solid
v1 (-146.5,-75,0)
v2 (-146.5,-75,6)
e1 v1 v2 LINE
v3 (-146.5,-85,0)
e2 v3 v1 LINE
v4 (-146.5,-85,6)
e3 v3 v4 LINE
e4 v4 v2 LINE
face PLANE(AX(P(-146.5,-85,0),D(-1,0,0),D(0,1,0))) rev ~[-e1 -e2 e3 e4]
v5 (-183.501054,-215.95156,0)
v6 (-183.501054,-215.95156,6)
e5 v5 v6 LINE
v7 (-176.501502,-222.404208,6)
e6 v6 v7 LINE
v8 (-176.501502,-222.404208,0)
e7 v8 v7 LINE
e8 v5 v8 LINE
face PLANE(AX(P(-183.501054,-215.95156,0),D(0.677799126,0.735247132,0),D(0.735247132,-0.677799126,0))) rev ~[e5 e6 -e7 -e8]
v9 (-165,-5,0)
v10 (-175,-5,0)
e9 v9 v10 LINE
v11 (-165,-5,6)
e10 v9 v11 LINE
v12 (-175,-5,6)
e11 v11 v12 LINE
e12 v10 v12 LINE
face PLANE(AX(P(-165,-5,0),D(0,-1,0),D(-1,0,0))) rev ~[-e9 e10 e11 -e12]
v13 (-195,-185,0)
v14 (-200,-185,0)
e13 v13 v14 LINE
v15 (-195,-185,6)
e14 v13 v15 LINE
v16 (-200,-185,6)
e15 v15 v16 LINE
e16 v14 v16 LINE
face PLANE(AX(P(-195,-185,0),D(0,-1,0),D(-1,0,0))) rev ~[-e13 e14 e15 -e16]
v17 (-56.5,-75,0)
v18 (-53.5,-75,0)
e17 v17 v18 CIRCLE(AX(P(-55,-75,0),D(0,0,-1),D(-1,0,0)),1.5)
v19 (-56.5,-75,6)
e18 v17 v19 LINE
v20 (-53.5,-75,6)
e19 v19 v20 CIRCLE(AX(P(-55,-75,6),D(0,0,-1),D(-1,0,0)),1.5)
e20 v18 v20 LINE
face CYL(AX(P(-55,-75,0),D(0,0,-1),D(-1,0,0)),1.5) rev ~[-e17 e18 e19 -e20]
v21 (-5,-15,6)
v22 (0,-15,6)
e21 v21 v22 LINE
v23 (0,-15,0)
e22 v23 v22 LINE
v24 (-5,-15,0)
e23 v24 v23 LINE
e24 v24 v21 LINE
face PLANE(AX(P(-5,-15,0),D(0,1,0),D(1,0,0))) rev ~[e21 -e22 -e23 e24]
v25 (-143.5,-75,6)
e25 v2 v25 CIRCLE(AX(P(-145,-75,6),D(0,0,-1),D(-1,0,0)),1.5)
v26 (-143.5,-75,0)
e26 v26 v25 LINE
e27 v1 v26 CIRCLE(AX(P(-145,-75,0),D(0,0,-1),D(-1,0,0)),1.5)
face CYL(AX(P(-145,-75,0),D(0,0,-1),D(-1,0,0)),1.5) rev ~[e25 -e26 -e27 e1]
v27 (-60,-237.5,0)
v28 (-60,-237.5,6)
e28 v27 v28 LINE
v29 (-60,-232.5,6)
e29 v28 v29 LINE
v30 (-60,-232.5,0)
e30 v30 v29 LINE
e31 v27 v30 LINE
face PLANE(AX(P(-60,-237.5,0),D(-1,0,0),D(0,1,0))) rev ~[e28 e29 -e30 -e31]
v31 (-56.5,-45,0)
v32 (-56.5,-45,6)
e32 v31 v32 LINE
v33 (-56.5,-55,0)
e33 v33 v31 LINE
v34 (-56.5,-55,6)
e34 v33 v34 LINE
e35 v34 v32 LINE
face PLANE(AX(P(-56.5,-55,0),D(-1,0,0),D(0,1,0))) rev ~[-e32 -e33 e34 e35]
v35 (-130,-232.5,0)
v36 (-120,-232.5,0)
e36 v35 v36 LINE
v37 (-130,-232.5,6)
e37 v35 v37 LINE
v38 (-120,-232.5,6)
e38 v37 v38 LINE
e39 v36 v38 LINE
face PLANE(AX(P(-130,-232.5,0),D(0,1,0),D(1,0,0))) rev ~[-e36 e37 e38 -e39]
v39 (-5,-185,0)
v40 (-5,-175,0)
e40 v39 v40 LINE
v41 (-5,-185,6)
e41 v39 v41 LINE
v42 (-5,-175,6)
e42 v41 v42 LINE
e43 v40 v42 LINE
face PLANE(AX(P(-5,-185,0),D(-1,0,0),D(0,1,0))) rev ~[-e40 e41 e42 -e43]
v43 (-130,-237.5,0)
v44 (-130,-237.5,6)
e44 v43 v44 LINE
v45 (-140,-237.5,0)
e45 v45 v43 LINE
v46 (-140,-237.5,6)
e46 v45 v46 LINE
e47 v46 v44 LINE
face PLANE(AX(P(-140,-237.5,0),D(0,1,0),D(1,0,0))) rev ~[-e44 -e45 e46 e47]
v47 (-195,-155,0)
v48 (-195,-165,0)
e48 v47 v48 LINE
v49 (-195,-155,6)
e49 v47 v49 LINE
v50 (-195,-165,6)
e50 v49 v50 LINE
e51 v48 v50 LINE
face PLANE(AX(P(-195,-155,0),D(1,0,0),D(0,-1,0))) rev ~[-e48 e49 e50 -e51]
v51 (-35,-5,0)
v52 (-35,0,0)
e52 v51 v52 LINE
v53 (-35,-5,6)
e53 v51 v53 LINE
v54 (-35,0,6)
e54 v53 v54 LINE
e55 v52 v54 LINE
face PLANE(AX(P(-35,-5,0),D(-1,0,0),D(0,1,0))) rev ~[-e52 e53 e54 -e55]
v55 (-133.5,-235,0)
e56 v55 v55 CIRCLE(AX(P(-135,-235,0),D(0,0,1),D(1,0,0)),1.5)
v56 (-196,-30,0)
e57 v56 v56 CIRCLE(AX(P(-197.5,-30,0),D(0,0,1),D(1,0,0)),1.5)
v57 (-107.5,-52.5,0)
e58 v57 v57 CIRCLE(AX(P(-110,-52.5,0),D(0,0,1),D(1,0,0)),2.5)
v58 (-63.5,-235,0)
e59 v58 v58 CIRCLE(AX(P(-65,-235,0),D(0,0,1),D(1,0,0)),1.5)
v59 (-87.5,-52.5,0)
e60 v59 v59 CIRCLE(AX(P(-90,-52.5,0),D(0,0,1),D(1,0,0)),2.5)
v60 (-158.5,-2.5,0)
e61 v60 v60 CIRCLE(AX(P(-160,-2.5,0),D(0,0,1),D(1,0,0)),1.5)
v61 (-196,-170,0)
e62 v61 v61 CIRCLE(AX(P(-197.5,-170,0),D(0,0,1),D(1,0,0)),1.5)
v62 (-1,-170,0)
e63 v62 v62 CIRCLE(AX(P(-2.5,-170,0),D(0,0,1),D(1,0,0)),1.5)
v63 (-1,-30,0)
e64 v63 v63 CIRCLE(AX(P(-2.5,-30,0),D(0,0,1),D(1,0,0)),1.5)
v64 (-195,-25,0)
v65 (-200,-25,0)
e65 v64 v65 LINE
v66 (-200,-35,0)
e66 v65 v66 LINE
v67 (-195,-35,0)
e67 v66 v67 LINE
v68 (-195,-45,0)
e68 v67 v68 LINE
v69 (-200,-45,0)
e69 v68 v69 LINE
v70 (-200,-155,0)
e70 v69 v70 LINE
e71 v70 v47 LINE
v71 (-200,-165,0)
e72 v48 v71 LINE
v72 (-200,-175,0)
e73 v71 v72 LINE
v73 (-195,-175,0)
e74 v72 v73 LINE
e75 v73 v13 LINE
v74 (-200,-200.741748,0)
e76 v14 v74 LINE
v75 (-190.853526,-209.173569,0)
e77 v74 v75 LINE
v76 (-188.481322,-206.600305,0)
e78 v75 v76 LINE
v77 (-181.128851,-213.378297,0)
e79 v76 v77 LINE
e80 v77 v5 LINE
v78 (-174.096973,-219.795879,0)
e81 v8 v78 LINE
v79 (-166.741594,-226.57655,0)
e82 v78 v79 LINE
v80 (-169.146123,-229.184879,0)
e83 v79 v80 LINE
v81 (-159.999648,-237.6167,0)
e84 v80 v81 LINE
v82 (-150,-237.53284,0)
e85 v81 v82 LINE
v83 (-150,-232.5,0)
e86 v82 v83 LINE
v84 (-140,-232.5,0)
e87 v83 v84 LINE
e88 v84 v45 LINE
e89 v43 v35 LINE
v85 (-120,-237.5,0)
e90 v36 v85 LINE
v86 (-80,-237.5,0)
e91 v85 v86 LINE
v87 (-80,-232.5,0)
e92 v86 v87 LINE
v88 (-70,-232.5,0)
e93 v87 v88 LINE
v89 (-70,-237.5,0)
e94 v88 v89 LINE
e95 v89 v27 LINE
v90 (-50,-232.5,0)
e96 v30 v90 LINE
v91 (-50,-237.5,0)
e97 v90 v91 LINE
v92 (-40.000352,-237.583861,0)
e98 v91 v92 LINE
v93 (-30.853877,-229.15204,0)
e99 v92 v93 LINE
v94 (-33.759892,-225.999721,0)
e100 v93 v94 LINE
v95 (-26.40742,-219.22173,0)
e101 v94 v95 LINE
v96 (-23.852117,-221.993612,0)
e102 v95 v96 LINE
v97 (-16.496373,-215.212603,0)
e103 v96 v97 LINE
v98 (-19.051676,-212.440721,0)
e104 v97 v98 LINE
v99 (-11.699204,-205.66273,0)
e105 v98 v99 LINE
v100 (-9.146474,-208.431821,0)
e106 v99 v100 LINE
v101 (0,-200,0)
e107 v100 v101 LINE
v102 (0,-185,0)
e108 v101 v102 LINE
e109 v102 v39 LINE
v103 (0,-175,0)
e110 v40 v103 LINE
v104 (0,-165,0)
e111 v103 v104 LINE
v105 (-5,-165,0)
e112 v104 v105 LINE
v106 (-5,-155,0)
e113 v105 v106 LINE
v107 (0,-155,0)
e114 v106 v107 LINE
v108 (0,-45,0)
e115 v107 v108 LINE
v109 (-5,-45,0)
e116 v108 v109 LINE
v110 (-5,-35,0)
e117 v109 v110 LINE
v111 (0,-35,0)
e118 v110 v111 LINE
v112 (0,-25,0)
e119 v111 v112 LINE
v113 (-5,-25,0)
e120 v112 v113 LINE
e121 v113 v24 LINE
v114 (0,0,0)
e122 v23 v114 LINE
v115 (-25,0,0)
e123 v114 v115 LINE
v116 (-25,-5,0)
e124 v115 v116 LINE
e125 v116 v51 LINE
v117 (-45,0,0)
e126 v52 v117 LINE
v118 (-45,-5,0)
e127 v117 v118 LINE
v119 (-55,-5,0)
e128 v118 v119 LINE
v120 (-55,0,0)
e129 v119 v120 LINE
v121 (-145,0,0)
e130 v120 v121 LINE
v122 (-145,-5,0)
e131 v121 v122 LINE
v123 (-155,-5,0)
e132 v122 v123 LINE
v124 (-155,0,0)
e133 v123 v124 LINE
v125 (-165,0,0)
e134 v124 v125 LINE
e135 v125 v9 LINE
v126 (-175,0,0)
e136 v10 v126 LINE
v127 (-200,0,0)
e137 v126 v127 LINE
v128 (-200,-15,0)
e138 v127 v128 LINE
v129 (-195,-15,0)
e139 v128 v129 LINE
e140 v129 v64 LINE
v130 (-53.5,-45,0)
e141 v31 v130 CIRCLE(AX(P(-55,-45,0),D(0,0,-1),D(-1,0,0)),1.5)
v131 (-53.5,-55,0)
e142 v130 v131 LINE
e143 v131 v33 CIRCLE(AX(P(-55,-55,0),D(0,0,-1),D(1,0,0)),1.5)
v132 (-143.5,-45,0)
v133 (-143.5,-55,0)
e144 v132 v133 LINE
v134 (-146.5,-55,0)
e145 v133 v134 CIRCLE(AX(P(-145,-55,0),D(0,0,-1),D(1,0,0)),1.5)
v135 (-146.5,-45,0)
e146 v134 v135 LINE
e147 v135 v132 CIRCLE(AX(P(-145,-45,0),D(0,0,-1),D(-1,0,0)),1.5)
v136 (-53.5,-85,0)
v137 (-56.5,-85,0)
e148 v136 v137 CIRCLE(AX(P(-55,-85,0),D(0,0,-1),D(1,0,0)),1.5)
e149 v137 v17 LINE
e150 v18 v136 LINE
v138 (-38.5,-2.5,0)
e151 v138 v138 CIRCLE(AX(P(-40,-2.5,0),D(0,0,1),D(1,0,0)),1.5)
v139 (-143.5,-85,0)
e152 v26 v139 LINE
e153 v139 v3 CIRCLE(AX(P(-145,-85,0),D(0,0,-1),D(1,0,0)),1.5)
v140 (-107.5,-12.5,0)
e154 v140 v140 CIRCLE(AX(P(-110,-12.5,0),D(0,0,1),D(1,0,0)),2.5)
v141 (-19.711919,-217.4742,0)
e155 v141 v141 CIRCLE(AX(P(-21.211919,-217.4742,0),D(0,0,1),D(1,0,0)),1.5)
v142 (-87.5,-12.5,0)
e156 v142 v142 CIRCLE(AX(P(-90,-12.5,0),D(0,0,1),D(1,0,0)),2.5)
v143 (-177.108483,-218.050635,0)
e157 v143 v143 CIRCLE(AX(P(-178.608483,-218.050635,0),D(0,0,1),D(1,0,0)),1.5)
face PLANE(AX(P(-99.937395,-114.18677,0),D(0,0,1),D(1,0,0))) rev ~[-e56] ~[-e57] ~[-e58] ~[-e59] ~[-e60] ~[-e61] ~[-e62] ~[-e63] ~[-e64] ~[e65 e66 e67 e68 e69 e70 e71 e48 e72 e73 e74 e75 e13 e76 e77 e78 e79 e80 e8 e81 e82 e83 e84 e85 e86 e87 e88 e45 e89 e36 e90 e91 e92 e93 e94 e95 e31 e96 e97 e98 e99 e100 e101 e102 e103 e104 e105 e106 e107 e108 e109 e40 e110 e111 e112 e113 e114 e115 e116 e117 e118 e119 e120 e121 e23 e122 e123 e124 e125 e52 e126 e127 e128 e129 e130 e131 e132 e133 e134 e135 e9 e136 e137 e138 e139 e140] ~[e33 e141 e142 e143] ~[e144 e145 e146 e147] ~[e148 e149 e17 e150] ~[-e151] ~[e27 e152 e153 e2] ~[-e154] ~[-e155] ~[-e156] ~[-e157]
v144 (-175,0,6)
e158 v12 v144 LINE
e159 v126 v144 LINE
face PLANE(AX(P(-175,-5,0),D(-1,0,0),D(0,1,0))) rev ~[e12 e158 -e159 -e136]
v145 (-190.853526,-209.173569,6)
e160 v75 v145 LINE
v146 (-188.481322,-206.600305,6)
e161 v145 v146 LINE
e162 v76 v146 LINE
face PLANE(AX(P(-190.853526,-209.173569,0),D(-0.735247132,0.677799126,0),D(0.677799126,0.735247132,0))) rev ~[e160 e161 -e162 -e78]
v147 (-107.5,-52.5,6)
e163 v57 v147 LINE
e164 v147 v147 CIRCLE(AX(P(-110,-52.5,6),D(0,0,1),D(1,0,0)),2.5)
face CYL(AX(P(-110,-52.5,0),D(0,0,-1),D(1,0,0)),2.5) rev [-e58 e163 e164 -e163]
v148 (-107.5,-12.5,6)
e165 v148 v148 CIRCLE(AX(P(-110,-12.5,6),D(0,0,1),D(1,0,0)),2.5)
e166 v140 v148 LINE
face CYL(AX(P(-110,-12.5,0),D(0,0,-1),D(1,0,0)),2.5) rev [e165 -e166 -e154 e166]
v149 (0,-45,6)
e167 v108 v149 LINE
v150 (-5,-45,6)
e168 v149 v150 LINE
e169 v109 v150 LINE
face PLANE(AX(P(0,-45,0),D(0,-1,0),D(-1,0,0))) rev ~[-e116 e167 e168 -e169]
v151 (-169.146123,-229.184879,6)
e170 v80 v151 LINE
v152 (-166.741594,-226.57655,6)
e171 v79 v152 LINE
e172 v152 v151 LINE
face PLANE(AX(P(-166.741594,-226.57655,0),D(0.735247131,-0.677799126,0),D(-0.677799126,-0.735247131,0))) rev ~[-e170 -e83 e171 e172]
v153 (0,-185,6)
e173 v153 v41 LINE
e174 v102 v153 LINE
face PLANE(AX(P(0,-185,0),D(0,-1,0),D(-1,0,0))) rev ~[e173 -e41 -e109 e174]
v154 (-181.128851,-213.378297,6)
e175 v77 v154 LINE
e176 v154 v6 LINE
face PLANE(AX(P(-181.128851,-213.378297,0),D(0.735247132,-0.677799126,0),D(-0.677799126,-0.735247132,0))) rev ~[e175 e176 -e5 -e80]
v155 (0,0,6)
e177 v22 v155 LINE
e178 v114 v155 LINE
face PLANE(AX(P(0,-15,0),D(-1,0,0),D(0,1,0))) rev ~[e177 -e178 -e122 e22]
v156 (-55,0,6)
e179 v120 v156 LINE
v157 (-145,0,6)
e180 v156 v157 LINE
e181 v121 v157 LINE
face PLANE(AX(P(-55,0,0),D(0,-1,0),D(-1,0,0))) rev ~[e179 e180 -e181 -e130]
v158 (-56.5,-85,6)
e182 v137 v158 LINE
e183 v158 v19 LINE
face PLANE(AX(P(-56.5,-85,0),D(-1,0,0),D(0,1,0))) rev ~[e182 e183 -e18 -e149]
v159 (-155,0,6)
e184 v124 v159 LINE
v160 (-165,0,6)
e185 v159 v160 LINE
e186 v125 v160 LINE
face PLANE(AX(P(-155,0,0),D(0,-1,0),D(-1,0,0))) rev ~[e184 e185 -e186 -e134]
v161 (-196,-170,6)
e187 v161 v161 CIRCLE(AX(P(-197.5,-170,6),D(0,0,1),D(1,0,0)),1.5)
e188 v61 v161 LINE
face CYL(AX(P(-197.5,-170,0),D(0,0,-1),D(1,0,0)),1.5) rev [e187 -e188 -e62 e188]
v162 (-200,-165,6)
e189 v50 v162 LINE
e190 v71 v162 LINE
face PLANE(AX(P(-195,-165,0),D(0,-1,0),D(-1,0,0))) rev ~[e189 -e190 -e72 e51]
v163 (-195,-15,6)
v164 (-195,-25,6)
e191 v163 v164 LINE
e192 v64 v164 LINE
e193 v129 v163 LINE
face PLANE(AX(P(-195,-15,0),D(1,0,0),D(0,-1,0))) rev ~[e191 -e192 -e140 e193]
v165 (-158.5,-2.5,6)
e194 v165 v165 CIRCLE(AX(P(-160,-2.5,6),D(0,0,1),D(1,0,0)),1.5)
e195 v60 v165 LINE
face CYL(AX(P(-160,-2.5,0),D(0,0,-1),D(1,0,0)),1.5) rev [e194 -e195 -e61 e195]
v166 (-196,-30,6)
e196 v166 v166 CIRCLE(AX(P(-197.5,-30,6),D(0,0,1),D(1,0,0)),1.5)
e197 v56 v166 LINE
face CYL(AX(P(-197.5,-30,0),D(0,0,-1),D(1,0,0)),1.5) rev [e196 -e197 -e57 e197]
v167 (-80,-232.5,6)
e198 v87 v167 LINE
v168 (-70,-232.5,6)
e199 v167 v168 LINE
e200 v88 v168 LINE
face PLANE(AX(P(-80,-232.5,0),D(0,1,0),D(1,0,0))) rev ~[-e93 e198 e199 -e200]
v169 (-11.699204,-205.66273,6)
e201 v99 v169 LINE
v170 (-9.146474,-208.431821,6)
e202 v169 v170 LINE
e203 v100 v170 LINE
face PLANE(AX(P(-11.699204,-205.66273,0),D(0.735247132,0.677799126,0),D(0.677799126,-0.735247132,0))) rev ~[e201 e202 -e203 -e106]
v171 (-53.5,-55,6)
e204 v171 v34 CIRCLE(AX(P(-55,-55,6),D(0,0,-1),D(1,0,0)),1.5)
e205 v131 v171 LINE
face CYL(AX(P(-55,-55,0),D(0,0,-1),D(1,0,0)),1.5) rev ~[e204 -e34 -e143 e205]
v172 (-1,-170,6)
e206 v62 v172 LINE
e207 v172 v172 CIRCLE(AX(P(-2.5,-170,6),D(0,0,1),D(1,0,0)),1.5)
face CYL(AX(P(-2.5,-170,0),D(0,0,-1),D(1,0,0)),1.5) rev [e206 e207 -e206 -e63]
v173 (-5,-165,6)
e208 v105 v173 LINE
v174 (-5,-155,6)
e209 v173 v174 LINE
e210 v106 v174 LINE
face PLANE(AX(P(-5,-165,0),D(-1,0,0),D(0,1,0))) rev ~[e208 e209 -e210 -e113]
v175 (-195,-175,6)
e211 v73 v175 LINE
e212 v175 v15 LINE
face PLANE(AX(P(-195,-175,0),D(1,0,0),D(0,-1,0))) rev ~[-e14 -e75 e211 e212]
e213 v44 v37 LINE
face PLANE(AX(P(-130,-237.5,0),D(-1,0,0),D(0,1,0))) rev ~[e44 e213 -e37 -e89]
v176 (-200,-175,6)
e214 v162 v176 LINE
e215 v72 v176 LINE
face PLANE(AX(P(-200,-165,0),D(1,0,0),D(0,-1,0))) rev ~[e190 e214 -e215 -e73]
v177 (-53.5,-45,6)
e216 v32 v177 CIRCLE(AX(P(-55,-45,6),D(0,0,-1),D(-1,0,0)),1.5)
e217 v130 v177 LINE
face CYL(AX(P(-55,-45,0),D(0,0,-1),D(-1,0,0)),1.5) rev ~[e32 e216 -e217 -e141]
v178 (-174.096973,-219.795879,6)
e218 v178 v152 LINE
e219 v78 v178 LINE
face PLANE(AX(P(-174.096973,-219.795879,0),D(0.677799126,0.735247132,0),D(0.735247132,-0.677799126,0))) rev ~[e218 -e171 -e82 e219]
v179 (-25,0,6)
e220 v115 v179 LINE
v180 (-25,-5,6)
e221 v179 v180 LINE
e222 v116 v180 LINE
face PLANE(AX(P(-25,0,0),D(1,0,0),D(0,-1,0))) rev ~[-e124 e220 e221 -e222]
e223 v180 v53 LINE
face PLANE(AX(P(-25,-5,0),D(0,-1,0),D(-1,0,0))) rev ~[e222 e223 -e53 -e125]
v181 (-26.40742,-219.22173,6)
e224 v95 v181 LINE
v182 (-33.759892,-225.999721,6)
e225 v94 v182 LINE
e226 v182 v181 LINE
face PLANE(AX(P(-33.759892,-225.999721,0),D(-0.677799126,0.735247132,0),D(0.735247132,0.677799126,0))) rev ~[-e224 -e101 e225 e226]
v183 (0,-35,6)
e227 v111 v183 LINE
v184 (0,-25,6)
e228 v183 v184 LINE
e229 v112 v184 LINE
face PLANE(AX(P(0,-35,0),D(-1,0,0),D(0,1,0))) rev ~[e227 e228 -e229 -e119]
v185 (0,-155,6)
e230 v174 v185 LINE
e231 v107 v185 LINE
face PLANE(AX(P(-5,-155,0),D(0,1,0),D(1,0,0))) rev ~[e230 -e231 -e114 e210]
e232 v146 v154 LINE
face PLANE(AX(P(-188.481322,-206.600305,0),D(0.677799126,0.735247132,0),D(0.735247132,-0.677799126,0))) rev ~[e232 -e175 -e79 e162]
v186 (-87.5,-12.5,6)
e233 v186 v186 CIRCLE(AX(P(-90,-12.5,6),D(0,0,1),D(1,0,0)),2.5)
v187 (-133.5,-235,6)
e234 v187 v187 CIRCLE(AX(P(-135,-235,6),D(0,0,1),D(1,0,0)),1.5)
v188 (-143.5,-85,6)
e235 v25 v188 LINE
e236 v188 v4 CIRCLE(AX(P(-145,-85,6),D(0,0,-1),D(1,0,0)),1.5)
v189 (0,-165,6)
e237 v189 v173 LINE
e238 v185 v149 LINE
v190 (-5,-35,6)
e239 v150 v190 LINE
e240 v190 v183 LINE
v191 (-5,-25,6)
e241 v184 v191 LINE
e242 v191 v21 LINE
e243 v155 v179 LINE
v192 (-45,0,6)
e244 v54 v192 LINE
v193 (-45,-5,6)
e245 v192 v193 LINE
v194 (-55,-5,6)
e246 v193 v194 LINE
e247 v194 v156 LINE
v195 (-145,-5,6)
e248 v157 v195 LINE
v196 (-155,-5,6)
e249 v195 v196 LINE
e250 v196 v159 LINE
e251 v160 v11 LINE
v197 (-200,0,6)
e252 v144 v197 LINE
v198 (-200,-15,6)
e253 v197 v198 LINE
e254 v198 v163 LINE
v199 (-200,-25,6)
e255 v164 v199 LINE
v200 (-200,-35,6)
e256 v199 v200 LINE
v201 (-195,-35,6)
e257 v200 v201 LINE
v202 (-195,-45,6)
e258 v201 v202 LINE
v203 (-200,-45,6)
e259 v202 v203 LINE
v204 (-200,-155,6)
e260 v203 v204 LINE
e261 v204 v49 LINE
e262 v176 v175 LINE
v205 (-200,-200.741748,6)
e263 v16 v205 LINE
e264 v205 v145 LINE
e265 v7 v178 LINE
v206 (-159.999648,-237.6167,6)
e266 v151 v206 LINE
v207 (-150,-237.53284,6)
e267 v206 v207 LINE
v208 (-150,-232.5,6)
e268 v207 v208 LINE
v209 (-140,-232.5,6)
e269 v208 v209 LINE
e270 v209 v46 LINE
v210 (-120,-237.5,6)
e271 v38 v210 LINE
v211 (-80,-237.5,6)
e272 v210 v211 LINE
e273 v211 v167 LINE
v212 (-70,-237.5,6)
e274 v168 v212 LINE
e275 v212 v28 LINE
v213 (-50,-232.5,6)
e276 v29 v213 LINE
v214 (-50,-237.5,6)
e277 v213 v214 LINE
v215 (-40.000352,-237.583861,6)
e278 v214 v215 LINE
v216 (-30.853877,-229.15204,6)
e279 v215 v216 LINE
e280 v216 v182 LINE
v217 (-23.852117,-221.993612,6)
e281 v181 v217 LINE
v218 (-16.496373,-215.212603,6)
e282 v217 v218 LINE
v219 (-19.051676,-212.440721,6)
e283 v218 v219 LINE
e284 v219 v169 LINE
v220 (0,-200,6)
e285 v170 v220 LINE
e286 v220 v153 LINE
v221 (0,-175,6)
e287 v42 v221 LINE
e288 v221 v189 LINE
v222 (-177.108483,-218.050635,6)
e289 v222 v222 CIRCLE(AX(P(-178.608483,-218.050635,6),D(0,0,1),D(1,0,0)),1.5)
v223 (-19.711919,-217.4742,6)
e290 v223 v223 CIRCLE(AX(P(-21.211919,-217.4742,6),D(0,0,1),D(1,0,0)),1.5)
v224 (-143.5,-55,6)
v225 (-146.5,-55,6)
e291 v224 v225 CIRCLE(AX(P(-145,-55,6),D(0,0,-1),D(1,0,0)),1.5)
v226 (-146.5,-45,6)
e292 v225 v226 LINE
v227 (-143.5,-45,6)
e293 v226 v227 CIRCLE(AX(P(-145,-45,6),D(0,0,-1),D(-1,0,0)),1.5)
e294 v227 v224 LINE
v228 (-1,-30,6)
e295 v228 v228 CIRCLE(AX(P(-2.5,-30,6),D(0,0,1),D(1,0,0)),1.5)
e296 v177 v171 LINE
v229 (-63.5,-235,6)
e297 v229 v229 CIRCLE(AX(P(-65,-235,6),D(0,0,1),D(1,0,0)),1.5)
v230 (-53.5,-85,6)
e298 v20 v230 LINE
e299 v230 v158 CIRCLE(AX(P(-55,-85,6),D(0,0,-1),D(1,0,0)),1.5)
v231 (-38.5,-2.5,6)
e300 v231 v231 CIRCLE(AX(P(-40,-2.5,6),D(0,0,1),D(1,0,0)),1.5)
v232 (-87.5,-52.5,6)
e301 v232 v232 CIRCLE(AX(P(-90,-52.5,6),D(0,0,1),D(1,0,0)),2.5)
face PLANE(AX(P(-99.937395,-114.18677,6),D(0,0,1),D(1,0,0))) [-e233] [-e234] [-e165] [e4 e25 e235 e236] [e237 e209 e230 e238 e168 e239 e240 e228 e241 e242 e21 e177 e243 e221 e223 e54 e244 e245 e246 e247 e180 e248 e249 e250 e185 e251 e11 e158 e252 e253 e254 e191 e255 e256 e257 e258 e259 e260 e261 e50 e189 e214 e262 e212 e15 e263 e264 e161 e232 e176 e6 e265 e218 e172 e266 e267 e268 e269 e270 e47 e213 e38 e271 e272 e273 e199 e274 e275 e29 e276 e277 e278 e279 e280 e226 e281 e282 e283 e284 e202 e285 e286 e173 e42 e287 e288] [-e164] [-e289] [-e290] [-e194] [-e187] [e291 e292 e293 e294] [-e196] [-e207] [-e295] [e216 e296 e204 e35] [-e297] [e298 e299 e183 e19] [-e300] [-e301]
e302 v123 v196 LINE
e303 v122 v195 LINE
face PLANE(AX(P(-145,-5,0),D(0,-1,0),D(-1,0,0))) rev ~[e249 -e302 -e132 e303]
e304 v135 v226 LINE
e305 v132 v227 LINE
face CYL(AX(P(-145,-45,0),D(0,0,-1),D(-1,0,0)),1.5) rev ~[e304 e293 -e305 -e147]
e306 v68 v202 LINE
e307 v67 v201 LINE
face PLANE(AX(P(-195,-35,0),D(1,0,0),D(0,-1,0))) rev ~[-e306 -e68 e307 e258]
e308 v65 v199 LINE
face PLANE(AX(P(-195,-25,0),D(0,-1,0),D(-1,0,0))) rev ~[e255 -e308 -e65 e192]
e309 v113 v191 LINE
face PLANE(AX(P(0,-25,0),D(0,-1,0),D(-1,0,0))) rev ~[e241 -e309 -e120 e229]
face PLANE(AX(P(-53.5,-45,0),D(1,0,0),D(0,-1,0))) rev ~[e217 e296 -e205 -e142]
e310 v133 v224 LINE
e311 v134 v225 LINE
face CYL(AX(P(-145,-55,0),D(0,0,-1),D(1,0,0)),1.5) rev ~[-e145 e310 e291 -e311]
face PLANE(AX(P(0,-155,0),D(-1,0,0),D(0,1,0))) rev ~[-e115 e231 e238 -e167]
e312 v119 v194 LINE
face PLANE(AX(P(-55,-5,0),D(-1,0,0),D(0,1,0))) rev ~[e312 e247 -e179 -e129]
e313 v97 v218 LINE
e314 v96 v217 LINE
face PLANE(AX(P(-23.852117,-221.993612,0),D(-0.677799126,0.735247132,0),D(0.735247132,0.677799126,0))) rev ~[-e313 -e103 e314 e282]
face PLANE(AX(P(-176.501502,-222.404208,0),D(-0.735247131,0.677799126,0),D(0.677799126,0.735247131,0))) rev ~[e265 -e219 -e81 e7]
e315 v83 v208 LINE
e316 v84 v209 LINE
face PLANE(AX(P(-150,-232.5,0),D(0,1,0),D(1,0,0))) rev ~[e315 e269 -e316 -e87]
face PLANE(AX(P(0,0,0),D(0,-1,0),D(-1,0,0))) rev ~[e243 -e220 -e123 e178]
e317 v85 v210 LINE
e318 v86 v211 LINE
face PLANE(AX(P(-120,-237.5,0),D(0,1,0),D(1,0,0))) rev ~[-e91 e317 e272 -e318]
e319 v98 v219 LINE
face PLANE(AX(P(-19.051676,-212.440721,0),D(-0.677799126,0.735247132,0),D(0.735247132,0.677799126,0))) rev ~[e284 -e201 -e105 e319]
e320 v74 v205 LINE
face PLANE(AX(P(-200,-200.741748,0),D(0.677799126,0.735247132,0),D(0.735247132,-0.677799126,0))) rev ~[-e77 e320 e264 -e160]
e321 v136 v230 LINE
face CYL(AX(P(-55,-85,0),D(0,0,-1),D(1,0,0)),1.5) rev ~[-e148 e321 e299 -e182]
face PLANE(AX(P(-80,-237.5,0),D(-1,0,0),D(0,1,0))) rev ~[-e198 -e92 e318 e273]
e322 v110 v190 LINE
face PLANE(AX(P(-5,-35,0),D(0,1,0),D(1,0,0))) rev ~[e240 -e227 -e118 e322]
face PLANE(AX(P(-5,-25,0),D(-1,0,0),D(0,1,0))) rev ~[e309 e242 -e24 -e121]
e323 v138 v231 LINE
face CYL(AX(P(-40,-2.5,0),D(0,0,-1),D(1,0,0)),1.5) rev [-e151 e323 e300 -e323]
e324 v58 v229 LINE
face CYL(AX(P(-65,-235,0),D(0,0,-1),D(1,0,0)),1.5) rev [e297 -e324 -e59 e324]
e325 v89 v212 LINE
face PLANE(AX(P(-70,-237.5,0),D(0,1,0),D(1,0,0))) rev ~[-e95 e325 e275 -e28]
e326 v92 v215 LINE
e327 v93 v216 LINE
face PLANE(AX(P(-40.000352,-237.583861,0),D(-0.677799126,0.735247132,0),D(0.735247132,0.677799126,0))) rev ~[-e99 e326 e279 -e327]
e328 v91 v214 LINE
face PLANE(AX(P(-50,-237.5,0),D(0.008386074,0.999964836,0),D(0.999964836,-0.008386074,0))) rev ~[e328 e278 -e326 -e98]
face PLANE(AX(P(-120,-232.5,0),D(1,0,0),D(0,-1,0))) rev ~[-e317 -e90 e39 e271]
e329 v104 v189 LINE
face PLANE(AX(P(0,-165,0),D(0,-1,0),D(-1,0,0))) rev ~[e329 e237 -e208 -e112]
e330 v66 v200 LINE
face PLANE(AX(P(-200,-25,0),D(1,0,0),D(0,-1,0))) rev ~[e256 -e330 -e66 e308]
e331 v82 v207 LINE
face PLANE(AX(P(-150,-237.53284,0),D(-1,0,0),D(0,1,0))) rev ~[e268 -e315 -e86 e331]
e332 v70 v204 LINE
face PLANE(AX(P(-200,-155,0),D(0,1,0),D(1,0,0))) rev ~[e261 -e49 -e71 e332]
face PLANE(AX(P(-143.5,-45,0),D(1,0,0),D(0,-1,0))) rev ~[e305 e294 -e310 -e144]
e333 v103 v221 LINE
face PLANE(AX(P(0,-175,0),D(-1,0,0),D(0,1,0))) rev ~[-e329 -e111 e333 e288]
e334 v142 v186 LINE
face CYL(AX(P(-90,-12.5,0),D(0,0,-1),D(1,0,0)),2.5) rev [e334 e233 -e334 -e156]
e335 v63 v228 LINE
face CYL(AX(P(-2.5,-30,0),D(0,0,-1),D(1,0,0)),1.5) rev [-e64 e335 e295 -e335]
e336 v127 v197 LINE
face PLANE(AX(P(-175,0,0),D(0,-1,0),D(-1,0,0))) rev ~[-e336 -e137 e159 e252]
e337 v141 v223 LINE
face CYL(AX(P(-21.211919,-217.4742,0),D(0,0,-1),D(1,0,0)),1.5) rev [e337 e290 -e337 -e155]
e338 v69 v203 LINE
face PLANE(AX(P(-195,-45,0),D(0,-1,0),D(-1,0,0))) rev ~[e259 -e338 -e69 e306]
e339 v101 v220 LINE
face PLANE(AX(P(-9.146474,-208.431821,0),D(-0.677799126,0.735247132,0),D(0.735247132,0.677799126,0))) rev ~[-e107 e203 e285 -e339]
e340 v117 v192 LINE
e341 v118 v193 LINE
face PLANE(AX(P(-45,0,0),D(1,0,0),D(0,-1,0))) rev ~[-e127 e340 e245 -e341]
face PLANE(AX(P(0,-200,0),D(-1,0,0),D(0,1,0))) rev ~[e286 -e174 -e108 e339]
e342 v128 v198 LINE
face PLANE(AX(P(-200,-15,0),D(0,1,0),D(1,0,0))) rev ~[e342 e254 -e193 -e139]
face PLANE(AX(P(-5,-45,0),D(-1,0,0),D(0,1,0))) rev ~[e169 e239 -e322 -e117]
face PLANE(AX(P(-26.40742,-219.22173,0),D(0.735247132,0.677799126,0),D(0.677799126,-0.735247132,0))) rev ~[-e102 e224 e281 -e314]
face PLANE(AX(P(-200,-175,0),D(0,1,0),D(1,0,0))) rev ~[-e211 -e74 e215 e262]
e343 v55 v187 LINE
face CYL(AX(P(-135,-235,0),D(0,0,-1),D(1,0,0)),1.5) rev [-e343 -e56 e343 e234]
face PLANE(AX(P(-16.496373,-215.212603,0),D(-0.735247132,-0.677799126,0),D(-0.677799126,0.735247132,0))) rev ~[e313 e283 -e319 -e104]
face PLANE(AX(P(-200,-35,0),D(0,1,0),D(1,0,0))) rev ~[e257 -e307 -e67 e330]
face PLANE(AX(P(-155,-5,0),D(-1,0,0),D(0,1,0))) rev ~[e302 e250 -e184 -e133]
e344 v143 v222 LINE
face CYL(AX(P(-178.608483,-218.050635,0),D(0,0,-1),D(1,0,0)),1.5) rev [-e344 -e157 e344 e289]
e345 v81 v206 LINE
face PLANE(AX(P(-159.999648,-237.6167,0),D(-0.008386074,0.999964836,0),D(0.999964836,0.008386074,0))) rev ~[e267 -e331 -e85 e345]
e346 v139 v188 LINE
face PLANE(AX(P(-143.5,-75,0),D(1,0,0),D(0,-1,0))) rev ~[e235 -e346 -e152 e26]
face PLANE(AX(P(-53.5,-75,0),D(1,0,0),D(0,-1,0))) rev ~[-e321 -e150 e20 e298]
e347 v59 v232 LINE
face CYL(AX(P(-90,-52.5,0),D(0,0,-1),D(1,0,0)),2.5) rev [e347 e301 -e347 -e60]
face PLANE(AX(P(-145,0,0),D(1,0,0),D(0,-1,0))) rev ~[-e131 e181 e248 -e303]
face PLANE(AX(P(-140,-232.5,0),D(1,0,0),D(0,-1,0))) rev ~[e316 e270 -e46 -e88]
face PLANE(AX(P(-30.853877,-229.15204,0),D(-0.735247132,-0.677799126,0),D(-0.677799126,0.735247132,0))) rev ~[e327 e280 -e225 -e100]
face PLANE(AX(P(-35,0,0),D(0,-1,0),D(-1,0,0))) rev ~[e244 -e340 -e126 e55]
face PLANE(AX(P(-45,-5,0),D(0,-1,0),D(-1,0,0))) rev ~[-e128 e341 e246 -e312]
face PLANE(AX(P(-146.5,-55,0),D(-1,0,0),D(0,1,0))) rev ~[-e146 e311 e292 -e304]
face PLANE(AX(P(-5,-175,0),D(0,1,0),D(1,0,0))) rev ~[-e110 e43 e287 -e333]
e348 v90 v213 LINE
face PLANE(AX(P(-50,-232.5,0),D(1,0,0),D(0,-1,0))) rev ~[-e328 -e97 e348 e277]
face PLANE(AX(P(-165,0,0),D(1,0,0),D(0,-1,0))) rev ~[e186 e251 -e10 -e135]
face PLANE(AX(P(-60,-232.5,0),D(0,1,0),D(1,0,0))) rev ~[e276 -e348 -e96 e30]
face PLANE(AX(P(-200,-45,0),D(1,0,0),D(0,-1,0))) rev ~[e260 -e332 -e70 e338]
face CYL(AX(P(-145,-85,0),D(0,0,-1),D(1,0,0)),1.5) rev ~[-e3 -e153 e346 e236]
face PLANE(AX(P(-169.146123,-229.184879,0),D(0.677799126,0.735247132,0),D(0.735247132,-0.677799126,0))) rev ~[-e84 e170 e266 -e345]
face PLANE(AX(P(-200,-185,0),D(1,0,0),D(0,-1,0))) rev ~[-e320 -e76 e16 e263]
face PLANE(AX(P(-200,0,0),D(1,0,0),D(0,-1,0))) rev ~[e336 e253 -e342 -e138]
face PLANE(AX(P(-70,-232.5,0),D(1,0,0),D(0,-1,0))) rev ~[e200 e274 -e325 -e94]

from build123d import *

# Parameters (mm, degrees)
MODEL_R                  = 1.5
MODEL_R_2                = 2.5
RESSALTO_EXTRUS_O1_DEPTH = 6


with BuildPart() as part:
    # Model → Ressalto-extrusão1 (new body)
    with BuildSketch(Plane.XY):
        Polygon((-5, -175), (0, -175), (0, -165), (-5, -165), (-5, -155), (0, -155), (0, -45), (-5, -45), (-5, -35), (0, -35), (0, -25), (-5, -25), (-5, -15), (0, -15), (0, 0), (-25, 0), (-25, -5), (-35, -5), (-35, 0), (-45, 0), (-45, -5), (-55, -5), (-55, 0), (-145, 0), (-145, -5), (-155, -5), (-155, 0), (-165, 0), (-165, -5), (-175, -5), (-175, 0), (-200, 0), (-200, -15), (-195, -15), (-195, -25), (-200, -25), (-200, -35), (-195, -35), (-195, -45), (-200, -45), (-200, -155), (-195, -155), (-195, -165), (-200, -165), (-200, -175), (-195, -175), (-195, -185), (-200, -185), (-200, -200.74174754), (-190.853525683, -209.17356867), (-188.481322389, -206.600305295), (-181.128851073, -213.378296557), (-183.501054367, -215.951559933), (-176.501501675, -222.404207614), (-174.096972592, -219.795878624), (-166.741593597, -226.576550376), (-169.14612268, -229.184879366), (-159.999648363, -237.616700496), (-150, -237.53283976), (-150, -232.5), (-140, -232.5), (-140, -237.5), (-130, -237.5), (-130, -232.5), (-120, -232.5), (-120, -237.5), (-80, -237.5), (-80, -232.5), (-70, -232.5), (-70, -237.5), (-60, -237.5), (-60, -232.5), (-50, -232.5), (-50, -237.5), (-40.000351637, -237.583860737), (-30.85387732, -229.152039608), (-33.759891511, -225.999721294), (-26.407420195, -219.221730032), (-23.852117489, -221.993611718), (-16.496373021, -215.21260305), (-19.051675727, -212.440721364), (-11.69920441, -205.662730102), (-9.146474317, -208.43182113), (0, -200), (0, -185), (-5, -185), align=None)
        with Locations((-2.5, -170)):
            Circle(MODEL_R, mode=Mode.SUBTRACT)
        with Locations((-2.5, -30)):
            Circle(MODEL_R, mode=Mode.SUBTRACT)
        with Locations((-40, -2.5)):
            Circle(MODEL_R, mode=Mode.SUBTRACT)
        with Locations((-160, -2.5)):
            Circle(MODEL_R, mode=Mode.SUBTRACT)
        with Locations((-197.5, -30)):
            Circle(MODEL_R, mode=Mode.SUBTRACT)
        with Locations((-197.5, -170)):
            Circle(MODEL_R, mode=Mode.SUBTRACT)
        with Locations((-65, -235)):
            Circle(MODEL_R, mode=Mode.SUBTRACT)
        with Locations((-135, -235)):
            Circle(MODEL_R, mode=Mode.SUBTRACT)
        with Locations((-90, -52.5)):
            Circle(MODEL_R_2, mode=Mode.SUBTRACT)
        with Locations((-110, -12.5)):
            Circle(MODEL_R_2, mode=Mode.SUBTRACT)
        with Locations((-90, -12.5)):
            Circle(MODEL_R_2, mode=Mode.SUBTRACT)
        with Locations((-110, -52.5)):
            Circle(MODEL_R_2, mode=Mode.SUBTRACT)
        with Locations((-178.608483127, -218.05063468)):
            Circle(MODEL_R, mode=Mode.SUBTRACT)
        with Locations((-21.21191866, -217.474200234)):
            Circle(MODEL_R, mode=Mode.SUBTRACT)
        with BuildLine():
            Line((-56.5, -55), (-56.5, -45))
            ThreePointArc((-56.5, -45), (-55, -43.5), (-53.5, -45))
            Line((-53.5, -45), (-53.5, -55))
            ThreePointArc((-53.5, -55), (-55, -56.5), (-56.5, -55))
        make_face(mode=Mode.SUBTRACT)
        with BuildLine():
            Line((-53.5, -75), (-53.5, -85))
            ThreePointArc((-53.5, -85), (-55, -86.5), (-56.5, -85))
            Line((-56.5, -85), (-56.5, -75))
            ThreePointArc((-56.5, -75), (-55, -73.5), (-53.5, -75))
        make_face(mode=Mode.SUBTRACT)
        with BuildLine():
            Line((-146.5, -85), (-146.5, -75))
            ThreePointArc((-146.5, -75), (-145, -73.5), (-143.5, -75))
            Line((-143.5, -75), (-143.5, -85))
            ThreePointArc((-143.5, -85), (-145, -86.5), (-146.5, -85))
        make_face(mode=Mode.SUBTRACT)
        with BuildLine():
            Line((-146.5, -55), (-146.5, -45))
            ThreePointArc((-146.5, -45), (-145, -43.5), (-143.5, -45))
            Line((-143.5, -45), (-143.5, -55))
            ThreePointArc((-143.5, -55), (-145, -56.5), (-146.5, -55))
        make_face(mode=Mode.SUBTRACT)
    extrude(amount=RESSALTO_EXTRUS_O1_DEPTH)


solid = part.part
